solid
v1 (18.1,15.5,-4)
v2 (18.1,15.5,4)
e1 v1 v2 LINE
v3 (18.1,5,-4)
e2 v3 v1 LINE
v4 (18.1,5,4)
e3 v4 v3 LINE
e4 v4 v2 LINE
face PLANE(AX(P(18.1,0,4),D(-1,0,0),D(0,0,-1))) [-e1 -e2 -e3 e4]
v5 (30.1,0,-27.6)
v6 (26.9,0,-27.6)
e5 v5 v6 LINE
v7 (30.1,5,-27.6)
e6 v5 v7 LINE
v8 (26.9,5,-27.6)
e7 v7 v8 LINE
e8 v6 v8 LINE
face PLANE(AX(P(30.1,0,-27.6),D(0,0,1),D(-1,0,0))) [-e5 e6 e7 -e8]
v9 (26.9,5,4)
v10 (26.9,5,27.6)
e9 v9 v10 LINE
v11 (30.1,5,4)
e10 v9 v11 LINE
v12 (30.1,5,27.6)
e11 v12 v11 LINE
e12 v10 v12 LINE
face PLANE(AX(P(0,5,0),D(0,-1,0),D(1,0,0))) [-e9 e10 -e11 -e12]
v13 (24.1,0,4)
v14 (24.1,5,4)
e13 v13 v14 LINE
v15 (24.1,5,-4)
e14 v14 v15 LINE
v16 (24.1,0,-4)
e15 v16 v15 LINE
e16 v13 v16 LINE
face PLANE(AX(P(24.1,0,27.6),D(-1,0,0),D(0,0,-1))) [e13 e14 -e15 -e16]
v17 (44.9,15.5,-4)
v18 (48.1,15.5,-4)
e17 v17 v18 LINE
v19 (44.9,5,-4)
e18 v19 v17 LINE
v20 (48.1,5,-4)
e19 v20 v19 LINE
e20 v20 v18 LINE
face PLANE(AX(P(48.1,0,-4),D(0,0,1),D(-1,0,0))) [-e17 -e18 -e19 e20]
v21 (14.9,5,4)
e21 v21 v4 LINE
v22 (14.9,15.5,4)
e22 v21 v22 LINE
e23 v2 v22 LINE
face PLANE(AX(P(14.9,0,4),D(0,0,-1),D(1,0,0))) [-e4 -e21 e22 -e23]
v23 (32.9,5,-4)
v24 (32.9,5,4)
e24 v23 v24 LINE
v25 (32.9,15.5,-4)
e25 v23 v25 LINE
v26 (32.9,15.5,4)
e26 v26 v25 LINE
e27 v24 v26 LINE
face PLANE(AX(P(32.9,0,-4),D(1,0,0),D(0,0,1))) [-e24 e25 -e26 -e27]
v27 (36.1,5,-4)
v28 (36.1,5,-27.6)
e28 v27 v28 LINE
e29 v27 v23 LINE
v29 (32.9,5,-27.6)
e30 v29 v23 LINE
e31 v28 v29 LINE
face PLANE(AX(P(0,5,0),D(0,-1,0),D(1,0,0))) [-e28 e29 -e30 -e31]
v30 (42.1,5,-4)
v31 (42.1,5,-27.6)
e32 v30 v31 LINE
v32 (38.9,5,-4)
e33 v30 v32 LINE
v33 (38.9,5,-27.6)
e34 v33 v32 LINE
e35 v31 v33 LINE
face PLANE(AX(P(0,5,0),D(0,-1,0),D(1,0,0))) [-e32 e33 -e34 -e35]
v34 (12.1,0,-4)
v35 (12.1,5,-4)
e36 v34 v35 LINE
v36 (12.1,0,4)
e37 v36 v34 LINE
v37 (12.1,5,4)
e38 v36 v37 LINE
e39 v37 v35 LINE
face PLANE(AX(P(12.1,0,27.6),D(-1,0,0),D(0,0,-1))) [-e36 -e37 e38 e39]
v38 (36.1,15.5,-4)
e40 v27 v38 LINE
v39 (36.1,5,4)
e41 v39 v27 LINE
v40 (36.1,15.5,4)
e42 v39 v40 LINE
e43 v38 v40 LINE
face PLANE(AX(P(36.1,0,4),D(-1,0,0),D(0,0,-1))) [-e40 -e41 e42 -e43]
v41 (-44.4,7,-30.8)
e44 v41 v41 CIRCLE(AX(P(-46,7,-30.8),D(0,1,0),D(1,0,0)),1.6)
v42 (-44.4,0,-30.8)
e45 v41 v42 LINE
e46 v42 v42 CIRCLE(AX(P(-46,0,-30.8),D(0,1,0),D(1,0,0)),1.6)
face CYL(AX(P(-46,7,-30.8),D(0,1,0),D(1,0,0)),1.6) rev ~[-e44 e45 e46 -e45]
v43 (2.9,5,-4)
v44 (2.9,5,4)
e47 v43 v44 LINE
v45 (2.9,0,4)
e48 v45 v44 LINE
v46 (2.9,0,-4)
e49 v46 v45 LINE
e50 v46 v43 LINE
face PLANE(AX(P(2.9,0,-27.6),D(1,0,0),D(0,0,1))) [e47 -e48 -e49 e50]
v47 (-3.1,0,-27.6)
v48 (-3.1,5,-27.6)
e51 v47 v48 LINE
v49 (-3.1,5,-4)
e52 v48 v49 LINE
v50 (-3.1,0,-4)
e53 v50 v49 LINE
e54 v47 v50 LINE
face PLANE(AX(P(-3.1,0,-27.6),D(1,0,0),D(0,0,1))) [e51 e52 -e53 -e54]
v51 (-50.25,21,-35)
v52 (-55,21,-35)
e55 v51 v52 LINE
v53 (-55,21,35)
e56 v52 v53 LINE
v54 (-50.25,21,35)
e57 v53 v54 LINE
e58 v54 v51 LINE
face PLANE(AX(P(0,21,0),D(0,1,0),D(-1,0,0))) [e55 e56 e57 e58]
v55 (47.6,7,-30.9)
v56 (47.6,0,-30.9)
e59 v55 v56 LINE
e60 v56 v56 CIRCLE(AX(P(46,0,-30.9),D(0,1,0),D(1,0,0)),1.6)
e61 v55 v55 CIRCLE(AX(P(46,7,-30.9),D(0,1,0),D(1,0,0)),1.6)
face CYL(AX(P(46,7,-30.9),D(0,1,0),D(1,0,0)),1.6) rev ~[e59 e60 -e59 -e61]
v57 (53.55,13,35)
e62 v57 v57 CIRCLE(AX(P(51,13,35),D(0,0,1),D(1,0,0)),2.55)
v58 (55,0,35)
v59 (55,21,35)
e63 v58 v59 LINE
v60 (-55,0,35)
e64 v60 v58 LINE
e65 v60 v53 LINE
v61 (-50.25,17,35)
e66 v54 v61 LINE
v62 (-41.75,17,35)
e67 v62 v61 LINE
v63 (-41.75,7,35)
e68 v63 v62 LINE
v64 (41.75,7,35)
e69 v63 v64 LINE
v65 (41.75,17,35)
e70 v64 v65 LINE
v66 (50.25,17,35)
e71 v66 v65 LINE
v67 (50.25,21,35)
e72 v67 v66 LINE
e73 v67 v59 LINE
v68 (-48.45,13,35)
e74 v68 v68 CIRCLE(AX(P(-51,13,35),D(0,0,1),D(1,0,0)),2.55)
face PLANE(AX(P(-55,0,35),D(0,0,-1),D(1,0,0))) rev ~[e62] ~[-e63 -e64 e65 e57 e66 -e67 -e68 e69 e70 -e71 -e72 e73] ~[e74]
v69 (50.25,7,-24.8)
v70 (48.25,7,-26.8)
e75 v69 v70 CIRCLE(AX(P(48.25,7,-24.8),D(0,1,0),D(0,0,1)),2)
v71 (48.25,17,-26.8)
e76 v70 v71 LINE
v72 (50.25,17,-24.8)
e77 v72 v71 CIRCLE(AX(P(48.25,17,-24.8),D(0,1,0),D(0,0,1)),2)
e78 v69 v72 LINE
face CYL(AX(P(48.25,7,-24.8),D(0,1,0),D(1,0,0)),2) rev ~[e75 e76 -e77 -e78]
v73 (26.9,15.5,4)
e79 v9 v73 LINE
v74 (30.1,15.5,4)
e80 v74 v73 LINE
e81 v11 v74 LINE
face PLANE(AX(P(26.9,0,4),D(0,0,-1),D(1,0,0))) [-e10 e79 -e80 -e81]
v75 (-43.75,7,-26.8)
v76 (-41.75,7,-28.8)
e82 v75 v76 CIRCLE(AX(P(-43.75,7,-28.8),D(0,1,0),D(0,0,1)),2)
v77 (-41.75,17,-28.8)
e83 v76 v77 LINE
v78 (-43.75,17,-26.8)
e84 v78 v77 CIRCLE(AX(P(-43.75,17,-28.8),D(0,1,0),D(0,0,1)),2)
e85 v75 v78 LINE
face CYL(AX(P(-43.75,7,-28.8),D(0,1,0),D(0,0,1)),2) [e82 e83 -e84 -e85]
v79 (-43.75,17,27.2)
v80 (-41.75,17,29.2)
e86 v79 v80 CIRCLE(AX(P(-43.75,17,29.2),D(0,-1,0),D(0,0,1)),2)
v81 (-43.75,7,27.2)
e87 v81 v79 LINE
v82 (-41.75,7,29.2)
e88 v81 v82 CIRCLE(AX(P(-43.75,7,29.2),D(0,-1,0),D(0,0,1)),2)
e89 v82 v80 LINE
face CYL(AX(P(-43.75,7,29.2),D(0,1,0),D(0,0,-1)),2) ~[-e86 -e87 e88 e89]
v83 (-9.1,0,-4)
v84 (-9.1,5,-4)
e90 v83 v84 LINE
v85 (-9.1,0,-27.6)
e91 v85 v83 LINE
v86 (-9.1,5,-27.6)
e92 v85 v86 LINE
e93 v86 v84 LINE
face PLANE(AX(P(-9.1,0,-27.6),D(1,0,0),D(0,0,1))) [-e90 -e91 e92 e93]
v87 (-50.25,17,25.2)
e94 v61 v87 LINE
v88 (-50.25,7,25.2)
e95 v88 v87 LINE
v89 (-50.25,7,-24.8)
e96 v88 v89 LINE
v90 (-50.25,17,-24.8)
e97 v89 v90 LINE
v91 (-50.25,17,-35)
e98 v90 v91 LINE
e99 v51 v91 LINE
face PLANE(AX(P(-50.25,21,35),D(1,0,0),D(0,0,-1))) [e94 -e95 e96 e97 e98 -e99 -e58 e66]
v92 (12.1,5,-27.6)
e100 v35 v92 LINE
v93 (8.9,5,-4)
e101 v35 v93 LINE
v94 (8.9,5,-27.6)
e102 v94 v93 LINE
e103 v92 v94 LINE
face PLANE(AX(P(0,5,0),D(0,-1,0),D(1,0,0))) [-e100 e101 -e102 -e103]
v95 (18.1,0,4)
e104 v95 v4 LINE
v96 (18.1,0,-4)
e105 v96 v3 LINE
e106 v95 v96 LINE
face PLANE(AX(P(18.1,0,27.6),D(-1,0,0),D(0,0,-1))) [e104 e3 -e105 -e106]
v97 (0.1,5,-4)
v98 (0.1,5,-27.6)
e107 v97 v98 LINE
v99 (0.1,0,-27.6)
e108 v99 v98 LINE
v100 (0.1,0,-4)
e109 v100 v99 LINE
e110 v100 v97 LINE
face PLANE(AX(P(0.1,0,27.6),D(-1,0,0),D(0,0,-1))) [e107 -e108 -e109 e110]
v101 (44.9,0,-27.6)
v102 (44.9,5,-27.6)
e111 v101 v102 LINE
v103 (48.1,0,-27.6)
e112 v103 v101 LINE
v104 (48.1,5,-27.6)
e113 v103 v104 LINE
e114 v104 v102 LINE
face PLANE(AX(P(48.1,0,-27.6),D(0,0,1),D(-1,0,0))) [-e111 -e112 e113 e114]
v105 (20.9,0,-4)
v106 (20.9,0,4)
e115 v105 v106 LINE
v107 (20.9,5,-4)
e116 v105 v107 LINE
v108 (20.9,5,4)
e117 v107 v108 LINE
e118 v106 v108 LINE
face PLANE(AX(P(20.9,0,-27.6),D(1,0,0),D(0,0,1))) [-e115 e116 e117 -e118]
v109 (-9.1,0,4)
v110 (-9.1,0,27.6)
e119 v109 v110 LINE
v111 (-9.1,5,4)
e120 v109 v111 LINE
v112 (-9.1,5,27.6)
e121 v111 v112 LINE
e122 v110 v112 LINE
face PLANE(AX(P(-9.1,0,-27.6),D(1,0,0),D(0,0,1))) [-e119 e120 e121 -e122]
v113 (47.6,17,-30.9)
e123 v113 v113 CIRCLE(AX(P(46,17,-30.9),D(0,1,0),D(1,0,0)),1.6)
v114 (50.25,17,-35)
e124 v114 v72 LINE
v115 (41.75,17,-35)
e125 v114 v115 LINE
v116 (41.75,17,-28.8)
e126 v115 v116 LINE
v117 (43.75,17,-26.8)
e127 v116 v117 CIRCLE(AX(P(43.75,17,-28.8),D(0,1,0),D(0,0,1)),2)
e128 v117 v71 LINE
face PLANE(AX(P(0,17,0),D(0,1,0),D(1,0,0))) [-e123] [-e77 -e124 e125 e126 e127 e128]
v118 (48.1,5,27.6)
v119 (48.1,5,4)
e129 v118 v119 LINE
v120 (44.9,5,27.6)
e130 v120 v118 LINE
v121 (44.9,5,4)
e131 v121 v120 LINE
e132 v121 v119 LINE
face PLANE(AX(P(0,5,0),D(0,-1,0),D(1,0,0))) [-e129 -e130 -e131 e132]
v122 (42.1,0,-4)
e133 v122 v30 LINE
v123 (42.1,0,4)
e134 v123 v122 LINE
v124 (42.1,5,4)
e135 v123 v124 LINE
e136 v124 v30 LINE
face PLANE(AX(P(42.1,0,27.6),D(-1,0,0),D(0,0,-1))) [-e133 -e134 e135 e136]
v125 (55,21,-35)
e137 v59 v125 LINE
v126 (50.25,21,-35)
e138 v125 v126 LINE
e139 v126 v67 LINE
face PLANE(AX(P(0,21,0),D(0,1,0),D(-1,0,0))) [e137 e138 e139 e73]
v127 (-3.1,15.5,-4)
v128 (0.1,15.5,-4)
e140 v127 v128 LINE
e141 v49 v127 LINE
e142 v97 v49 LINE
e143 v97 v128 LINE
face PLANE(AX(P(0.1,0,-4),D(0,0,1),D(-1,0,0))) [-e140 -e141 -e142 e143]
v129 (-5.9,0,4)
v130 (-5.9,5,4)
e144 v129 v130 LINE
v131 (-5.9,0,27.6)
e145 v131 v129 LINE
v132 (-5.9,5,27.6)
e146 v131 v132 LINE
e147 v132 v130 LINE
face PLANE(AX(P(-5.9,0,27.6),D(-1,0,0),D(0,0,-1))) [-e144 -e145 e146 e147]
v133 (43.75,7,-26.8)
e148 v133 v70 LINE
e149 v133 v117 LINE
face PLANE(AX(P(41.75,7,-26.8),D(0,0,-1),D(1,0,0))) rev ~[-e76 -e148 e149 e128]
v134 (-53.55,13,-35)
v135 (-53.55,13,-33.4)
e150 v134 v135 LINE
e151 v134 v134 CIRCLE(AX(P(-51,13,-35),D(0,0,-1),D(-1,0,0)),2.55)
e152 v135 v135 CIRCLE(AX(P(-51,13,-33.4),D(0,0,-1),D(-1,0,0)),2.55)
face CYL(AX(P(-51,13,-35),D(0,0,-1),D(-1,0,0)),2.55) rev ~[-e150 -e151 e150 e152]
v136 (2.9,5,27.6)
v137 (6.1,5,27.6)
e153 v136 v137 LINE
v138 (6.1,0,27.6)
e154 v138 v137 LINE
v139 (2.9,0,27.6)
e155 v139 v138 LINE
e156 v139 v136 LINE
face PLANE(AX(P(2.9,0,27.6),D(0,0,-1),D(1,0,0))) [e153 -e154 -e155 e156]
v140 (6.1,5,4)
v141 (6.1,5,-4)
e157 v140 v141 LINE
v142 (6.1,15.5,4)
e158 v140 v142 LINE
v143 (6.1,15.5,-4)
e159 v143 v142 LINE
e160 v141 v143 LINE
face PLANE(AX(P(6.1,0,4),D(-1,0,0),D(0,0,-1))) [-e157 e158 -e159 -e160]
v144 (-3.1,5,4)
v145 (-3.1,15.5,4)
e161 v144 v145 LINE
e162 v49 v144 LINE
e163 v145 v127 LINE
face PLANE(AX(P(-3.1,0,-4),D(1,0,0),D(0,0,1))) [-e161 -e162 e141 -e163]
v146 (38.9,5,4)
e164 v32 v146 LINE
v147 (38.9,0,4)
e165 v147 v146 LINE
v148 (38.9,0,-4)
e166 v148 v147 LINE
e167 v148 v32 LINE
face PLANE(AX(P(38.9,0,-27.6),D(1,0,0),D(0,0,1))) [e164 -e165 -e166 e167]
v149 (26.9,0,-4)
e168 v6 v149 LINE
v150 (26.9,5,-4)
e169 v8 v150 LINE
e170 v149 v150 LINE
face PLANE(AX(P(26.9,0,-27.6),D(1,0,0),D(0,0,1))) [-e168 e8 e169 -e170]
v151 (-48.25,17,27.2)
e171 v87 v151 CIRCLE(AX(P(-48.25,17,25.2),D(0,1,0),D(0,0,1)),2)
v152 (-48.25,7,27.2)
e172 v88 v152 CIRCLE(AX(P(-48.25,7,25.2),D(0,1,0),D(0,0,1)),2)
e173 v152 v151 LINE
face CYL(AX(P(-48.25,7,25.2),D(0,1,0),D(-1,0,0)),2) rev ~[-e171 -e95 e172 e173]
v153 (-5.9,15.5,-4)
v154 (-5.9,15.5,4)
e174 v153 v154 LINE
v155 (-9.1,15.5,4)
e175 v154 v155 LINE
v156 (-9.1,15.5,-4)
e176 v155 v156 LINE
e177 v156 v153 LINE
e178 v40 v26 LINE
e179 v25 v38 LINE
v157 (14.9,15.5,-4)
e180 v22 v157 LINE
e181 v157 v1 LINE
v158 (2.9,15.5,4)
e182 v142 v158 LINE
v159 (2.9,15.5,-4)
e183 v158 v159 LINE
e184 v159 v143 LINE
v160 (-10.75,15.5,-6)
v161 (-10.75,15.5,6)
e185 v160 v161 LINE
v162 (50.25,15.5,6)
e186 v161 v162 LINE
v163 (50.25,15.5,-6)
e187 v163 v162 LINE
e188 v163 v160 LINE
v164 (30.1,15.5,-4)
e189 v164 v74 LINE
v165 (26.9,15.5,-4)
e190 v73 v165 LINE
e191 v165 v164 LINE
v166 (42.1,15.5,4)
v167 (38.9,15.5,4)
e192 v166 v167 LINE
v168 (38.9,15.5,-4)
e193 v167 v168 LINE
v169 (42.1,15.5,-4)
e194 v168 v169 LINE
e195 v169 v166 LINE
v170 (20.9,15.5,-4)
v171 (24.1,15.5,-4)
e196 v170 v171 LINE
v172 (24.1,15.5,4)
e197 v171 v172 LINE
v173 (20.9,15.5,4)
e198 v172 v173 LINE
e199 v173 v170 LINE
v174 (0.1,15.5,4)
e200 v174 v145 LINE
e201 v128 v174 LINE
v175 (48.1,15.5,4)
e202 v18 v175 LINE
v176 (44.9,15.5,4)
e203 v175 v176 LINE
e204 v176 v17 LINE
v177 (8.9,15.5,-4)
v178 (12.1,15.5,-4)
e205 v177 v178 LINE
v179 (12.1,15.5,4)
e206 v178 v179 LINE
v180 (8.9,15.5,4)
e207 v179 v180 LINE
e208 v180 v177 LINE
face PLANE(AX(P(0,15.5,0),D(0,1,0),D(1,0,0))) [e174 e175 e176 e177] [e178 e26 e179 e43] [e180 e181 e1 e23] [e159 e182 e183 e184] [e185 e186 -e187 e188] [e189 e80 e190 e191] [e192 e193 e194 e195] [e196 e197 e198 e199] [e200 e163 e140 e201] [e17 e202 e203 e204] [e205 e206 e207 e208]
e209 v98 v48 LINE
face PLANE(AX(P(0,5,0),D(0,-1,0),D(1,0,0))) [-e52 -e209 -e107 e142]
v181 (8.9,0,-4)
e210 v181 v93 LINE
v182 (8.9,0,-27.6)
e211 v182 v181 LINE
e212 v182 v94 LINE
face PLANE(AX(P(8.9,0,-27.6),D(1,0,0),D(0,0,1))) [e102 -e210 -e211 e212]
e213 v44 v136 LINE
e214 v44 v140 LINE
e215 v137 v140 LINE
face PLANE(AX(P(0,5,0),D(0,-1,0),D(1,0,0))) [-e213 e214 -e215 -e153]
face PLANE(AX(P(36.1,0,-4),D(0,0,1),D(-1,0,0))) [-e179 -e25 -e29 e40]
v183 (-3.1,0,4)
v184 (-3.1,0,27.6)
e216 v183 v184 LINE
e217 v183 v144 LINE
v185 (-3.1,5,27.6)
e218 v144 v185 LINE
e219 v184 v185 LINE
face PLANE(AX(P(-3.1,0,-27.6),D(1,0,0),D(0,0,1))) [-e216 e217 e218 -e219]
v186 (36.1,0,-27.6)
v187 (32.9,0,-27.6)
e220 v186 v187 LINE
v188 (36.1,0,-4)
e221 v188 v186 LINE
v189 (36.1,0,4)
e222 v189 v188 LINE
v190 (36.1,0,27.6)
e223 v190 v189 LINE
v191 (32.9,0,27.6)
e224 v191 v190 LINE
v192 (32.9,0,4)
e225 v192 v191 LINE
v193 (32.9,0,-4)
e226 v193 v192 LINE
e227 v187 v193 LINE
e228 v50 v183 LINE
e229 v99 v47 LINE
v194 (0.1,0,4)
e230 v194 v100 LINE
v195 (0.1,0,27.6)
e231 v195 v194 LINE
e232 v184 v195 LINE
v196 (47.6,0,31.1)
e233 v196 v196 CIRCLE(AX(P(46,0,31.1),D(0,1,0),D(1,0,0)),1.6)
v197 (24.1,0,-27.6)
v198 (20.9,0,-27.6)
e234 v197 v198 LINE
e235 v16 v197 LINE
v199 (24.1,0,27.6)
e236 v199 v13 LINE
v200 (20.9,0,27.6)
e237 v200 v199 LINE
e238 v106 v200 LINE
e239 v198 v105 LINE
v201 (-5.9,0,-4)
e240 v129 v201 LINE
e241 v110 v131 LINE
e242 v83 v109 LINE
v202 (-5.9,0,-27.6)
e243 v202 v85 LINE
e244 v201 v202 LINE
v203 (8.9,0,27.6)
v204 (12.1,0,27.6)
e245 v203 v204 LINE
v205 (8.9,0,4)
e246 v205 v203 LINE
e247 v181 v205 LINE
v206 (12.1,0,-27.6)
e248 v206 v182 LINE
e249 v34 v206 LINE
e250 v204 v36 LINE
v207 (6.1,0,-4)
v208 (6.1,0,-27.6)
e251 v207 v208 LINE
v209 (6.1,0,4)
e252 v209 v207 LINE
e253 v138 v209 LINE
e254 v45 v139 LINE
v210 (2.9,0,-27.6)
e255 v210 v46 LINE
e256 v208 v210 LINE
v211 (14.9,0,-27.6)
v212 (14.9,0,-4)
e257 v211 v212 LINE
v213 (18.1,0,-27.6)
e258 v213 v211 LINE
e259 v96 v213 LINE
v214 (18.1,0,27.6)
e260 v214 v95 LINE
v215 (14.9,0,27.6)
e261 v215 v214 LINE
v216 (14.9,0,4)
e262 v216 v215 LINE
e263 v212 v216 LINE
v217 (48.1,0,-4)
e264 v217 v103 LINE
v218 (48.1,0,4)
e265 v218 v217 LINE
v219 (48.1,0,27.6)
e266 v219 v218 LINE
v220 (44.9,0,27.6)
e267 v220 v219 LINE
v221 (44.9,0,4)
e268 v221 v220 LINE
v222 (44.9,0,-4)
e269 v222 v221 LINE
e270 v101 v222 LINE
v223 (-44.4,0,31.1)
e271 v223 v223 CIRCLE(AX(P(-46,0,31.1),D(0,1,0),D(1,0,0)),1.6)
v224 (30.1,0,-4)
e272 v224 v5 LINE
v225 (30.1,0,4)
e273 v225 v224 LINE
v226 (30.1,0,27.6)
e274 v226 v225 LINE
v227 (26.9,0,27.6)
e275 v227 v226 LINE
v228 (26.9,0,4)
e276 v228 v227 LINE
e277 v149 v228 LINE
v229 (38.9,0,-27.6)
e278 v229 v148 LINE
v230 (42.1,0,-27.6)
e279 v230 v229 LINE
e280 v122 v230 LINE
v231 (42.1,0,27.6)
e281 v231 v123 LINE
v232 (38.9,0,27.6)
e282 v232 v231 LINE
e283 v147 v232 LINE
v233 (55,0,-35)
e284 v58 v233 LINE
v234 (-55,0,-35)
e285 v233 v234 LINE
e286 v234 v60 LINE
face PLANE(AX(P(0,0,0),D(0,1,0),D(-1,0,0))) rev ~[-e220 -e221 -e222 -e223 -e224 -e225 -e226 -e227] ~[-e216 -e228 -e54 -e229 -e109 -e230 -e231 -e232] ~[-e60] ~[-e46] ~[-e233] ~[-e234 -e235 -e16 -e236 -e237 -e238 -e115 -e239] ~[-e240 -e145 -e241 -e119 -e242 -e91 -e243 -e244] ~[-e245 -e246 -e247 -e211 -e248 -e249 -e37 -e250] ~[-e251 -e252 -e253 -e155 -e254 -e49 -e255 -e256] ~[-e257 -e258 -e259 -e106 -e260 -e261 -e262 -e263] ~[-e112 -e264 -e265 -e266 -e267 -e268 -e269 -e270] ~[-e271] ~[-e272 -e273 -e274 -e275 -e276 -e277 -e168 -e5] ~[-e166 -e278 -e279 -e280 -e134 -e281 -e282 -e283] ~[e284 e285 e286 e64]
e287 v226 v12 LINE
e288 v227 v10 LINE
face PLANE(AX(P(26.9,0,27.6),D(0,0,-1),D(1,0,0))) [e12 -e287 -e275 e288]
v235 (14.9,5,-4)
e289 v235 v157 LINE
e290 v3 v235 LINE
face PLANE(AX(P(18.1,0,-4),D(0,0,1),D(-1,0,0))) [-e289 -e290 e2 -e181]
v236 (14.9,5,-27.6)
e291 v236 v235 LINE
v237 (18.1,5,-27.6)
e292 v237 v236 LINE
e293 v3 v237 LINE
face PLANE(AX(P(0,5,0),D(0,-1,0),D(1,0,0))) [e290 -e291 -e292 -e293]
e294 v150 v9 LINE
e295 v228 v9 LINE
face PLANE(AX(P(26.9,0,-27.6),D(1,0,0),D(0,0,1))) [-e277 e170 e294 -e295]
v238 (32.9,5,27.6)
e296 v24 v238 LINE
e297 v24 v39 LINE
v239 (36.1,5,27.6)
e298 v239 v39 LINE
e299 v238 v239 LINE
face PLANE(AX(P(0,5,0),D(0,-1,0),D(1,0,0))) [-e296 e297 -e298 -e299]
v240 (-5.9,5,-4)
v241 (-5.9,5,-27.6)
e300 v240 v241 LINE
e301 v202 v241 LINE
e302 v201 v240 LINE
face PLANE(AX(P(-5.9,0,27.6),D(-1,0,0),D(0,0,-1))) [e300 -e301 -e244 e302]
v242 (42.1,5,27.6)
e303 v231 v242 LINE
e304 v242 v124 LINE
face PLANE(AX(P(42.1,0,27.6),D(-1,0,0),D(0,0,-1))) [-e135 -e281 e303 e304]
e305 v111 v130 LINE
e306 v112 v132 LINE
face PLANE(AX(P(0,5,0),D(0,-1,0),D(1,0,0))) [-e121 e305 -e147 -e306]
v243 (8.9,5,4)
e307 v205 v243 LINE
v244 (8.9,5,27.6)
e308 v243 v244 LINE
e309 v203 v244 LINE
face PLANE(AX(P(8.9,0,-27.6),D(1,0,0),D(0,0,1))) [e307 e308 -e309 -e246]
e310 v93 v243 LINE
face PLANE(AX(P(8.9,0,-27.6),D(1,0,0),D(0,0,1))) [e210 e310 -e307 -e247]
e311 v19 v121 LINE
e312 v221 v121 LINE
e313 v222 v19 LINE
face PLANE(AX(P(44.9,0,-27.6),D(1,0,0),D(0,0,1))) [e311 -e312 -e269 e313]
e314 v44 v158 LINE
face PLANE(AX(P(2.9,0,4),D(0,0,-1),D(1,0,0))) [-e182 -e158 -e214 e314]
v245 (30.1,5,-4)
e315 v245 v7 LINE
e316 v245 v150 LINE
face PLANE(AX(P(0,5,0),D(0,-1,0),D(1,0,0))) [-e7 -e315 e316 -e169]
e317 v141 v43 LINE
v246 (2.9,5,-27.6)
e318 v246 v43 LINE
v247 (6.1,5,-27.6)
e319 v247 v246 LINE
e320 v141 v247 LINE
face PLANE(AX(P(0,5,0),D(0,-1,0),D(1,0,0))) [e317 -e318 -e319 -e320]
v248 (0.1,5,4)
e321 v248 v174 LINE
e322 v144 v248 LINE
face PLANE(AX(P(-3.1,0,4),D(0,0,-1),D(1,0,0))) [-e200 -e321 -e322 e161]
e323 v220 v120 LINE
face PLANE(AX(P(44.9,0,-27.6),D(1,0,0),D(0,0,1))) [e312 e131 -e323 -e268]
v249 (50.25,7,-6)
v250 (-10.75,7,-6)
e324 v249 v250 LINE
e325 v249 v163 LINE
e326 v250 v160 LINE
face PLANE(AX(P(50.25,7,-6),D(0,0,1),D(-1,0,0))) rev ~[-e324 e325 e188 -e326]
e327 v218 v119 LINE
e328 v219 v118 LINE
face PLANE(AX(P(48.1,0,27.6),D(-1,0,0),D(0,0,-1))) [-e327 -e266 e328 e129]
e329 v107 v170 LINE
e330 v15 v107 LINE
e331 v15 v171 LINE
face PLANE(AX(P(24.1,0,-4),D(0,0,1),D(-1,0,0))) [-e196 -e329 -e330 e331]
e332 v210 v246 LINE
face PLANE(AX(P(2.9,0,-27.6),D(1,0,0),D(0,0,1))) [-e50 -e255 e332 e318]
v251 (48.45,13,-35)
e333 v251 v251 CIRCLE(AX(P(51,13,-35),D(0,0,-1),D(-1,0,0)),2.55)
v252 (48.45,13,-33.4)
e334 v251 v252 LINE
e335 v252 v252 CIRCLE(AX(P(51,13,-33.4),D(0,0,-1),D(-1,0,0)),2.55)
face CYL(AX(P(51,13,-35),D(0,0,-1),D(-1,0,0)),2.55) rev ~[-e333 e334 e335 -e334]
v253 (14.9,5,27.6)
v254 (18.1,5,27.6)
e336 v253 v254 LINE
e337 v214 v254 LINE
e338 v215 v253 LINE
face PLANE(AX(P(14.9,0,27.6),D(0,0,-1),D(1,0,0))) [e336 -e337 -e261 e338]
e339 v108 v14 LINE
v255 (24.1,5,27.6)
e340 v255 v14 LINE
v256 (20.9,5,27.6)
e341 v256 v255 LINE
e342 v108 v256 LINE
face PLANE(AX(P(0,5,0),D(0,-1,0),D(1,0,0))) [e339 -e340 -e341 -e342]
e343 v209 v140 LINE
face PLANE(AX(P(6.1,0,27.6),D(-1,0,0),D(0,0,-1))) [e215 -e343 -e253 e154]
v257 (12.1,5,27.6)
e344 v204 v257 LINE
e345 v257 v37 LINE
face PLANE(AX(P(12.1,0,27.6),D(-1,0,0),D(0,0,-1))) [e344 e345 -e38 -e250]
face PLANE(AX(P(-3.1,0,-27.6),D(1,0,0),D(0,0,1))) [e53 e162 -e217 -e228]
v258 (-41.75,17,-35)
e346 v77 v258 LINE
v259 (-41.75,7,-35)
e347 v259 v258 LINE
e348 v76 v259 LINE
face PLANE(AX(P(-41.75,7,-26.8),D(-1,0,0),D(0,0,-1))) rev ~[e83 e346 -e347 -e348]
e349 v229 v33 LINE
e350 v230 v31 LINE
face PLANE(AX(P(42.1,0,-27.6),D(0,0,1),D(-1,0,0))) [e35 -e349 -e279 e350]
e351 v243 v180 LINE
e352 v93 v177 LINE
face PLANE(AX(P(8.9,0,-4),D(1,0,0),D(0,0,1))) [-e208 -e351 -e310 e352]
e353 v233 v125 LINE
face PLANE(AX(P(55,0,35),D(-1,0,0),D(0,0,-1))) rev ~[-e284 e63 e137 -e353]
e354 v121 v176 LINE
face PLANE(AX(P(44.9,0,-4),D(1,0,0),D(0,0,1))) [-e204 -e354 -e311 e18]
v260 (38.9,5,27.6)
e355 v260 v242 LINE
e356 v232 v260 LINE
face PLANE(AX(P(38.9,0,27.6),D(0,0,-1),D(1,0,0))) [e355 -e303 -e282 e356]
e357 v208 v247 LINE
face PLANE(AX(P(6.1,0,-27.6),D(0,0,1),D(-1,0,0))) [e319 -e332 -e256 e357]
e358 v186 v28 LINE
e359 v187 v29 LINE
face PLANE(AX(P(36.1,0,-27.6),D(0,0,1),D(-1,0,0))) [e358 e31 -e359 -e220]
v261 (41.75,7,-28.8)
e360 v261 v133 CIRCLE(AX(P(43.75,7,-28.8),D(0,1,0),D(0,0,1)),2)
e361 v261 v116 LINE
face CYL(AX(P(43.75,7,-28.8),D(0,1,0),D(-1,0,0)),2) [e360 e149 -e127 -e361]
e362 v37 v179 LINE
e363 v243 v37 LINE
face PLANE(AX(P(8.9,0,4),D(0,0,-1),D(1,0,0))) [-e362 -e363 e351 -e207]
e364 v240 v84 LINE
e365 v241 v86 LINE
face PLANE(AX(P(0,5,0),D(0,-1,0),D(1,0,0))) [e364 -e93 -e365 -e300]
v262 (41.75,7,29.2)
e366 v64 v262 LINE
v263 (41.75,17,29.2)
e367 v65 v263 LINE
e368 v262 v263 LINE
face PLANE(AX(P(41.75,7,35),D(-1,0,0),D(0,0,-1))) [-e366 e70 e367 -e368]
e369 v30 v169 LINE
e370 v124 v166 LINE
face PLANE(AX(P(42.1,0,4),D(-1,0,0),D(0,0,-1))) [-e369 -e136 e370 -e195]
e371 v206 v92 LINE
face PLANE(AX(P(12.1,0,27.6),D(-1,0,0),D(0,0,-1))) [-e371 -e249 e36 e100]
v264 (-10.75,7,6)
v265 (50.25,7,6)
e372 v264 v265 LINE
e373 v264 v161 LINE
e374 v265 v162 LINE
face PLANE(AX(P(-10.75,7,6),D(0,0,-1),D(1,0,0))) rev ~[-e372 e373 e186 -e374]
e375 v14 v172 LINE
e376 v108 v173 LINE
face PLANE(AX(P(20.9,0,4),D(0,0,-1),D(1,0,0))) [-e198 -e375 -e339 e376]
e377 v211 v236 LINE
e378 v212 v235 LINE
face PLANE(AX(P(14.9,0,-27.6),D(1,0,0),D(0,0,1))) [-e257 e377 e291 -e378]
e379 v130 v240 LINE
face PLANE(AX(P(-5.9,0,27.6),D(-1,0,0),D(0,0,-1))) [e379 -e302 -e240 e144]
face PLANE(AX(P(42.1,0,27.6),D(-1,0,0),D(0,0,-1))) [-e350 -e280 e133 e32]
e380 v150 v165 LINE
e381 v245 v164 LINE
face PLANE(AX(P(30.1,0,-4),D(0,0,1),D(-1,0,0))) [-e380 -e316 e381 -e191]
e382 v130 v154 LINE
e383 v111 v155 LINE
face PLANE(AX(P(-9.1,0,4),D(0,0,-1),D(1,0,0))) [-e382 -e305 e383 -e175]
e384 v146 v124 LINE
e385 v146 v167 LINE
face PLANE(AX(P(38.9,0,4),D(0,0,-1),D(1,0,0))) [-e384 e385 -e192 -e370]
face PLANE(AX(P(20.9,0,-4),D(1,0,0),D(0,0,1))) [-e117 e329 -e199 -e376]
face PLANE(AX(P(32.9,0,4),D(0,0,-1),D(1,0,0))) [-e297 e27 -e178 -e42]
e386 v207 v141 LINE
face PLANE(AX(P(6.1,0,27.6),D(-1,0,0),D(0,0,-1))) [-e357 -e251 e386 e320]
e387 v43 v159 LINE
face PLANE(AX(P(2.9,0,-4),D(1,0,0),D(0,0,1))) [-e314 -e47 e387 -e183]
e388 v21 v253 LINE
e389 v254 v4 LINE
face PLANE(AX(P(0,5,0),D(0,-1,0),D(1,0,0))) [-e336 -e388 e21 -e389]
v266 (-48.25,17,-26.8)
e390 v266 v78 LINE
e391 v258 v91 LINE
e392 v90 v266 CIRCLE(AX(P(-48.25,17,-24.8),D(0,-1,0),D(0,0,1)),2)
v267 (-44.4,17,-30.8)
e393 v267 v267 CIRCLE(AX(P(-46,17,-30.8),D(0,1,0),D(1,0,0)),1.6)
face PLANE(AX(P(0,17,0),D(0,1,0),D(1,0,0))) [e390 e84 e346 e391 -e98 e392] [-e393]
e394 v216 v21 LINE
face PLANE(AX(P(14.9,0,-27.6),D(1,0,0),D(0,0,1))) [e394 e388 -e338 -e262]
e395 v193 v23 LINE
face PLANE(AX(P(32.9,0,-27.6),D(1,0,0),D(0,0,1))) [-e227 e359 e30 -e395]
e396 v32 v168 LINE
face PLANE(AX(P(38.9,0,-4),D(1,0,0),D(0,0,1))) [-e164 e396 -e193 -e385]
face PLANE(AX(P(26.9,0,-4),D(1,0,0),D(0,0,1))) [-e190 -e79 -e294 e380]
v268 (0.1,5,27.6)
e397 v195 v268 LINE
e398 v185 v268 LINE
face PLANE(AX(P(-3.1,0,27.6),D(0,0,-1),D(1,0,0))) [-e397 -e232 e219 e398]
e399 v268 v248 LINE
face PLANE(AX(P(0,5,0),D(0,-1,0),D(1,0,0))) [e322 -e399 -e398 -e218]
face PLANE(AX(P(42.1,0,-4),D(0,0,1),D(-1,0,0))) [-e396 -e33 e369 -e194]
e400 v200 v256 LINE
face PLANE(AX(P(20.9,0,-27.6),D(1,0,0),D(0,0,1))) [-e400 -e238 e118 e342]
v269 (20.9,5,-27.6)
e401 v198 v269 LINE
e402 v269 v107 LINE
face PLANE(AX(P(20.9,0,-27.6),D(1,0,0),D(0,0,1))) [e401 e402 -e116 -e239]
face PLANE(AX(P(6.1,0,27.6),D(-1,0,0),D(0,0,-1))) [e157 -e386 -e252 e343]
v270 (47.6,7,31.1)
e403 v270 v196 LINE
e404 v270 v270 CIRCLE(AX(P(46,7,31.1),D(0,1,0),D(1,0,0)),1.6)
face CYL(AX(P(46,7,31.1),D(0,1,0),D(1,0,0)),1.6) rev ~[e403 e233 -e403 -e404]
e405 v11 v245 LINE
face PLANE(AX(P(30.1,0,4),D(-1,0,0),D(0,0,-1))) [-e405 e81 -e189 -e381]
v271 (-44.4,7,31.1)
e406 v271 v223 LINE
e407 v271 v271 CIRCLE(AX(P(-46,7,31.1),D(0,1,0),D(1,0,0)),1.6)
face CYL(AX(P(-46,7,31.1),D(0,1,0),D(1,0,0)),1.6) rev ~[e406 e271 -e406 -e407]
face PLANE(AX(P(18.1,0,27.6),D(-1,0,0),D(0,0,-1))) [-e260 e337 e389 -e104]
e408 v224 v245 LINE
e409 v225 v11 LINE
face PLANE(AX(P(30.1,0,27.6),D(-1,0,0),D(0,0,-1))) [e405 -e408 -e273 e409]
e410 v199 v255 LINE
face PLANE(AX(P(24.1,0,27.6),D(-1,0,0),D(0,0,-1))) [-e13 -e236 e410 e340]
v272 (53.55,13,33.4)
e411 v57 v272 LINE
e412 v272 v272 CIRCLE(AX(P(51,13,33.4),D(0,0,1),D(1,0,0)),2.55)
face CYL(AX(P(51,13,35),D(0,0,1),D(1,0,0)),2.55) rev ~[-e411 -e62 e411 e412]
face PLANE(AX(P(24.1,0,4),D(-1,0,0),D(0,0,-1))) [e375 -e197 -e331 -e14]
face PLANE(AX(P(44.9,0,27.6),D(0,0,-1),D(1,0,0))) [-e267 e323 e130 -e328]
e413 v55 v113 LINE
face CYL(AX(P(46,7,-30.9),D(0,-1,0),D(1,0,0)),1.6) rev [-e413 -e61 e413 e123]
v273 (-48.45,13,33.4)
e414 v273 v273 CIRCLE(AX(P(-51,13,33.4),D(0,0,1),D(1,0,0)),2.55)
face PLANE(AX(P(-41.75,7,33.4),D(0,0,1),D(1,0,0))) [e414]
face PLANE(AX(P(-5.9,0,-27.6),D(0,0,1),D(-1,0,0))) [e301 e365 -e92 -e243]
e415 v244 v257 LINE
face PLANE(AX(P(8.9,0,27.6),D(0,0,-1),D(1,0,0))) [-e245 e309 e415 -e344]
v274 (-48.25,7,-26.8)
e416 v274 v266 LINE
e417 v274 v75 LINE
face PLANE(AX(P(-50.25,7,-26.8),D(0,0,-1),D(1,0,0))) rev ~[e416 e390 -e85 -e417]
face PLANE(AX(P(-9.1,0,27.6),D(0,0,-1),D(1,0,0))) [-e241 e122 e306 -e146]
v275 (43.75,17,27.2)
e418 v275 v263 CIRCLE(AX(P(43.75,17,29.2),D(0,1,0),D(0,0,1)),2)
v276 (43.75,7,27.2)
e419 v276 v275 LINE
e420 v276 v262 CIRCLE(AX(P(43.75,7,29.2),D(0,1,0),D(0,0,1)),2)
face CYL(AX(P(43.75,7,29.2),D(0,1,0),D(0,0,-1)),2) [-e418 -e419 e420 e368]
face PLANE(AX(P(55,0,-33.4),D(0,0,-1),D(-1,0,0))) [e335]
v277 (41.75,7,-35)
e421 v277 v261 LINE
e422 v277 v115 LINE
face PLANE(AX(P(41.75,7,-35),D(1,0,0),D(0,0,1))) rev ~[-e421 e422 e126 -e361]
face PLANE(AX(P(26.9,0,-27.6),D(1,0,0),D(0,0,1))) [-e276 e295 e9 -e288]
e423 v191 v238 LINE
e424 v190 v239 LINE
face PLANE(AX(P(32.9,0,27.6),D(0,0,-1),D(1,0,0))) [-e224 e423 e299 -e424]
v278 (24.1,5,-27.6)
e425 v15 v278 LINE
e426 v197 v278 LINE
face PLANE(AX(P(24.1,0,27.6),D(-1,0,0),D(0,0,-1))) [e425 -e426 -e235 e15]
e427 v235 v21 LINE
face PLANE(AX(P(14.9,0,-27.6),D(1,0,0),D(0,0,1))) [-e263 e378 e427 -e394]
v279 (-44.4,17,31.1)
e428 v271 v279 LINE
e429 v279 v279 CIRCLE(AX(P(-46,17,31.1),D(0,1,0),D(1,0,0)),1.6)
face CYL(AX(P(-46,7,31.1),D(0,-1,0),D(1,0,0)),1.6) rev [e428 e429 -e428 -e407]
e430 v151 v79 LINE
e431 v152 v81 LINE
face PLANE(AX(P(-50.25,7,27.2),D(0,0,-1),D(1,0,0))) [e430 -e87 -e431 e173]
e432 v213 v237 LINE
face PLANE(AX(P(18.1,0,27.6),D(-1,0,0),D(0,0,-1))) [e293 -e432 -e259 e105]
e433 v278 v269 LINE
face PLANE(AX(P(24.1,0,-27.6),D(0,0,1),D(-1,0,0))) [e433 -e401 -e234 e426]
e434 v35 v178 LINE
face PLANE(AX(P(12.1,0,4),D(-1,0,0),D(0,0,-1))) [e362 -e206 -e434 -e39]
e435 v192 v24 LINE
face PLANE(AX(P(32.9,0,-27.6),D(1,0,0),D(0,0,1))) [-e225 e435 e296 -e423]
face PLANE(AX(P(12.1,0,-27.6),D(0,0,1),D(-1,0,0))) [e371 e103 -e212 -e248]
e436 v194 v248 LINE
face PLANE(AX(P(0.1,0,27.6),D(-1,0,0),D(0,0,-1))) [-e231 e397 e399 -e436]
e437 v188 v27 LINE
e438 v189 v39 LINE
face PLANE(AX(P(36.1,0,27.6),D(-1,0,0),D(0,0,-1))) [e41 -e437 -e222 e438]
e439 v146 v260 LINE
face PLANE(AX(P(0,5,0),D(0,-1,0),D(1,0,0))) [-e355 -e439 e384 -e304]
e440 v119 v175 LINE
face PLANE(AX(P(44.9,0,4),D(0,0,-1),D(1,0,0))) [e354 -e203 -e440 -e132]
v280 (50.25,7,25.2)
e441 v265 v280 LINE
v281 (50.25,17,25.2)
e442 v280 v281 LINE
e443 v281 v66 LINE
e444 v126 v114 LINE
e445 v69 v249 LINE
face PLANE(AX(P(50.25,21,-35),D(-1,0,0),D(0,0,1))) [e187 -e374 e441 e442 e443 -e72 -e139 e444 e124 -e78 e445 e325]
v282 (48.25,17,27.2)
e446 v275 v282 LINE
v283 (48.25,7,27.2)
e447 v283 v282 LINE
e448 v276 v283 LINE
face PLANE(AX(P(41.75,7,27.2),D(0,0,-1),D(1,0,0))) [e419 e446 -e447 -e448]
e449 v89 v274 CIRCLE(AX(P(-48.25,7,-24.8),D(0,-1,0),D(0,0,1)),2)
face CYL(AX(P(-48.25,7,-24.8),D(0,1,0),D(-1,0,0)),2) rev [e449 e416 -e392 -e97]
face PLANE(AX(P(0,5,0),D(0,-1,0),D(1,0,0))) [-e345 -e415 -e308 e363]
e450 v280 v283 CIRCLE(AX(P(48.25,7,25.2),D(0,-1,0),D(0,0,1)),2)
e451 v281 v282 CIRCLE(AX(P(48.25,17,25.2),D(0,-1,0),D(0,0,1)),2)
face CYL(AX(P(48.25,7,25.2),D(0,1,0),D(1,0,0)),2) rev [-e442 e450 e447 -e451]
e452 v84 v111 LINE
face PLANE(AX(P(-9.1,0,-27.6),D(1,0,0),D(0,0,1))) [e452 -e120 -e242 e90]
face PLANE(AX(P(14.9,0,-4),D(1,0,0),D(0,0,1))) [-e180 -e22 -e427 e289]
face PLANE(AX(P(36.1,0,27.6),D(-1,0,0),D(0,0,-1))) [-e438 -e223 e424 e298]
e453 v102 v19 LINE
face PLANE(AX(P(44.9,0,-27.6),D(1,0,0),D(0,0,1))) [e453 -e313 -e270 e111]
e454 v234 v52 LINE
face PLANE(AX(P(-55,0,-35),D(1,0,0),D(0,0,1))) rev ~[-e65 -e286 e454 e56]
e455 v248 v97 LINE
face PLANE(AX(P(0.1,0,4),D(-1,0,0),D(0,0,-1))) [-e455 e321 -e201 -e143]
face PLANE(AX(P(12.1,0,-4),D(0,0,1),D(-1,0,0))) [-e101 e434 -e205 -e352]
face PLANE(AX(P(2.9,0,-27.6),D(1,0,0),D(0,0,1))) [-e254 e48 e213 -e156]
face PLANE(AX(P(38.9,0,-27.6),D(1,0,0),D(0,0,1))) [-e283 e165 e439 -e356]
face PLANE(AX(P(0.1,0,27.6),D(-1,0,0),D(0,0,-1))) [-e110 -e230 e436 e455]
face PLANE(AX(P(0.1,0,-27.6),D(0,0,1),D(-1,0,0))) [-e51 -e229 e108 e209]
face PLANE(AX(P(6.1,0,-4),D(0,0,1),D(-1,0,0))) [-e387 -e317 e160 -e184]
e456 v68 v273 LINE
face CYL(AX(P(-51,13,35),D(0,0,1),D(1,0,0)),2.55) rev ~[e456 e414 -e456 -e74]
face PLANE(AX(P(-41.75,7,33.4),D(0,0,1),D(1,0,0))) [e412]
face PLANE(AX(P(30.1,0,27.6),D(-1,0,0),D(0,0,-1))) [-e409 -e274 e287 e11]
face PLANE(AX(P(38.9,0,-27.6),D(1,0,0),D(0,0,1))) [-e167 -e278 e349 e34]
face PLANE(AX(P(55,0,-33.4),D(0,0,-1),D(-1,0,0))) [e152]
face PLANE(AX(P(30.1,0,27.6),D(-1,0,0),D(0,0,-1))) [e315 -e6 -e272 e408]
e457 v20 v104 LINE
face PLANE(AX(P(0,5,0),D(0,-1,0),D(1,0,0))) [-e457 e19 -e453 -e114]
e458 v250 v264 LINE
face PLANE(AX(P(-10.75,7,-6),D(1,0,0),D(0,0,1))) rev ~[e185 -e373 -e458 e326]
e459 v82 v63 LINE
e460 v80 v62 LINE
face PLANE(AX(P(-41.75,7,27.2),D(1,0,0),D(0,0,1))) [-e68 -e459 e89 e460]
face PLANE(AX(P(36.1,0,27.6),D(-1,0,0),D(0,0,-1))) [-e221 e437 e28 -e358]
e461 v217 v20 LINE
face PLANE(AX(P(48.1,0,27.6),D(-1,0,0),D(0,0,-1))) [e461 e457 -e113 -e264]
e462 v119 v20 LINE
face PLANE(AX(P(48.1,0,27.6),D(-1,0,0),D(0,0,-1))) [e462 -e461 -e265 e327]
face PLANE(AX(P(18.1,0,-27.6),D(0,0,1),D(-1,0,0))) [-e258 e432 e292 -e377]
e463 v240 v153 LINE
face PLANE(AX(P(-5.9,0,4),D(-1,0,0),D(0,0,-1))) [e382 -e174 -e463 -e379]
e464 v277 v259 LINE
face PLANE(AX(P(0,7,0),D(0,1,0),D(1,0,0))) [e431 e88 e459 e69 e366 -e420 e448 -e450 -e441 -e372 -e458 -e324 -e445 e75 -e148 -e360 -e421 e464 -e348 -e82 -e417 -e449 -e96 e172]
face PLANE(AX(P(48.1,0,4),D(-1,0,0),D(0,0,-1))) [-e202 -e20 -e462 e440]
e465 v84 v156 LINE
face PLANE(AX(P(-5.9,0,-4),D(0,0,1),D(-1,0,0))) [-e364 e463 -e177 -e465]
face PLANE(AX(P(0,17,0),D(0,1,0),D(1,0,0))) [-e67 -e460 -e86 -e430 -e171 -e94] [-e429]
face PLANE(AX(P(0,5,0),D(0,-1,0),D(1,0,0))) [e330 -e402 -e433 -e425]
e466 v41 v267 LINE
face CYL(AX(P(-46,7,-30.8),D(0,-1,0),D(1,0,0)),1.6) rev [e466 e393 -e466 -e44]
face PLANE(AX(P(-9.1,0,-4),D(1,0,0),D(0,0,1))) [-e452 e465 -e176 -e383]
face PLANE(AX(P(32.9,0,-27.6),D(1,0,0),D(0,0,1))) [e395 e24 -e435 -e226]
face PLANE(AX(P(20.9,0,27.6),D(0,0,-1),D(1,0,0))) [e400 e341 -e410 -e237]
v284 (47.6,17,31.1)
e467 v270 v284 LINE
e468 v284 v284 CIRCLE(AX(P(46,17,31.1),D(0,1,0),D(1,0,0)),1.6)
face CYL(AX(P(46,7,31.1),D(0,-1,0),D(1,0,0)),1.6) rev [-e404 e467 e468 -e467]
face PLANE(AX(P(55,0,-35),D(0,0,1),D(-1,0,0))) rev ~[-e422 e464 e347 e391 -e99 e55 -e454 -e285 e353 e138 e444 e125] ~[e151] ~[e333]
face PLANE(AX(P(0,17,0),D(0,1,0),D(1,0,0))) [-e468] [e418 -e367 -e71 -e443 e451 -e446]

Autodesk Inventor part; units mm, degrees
ref_plane "YZ Plane" through (0, 0, 0) normal (1, 0, 0) x (0, 1, 0)
ref_plane "XZ Plane" through (0, 0, 0) normal (0, 1, 0) x (-1, 0, 0)
ref_plane "XY Plane" through (0, 0, 0) normal (0, 0, 1) x (1, 0, 0)
sketch "Sketch1" plane through (0, 0, 0) normal (0, 1, 0) x (-1, 0, 0)
  line L0 (55, 35) -> (-55, 35)
  line L1 (-55, 35) -> (-55, -35)
  line L2 (-55, -35) -> (55, -35)
  line L3 (55, -35) -> (55, 35)
  point P0 (0, 0)
  point P1 (-55, 0)
  point P2 (55, 0)
  dimension "d0" = 70
  dimension "d66" = 35
  dimension "d67" = 55
  dimension "d68" = 55
extrude "Extrusion1" add sketch "Sketch1" along normal blind 21
sketch "Sketch2" plane through (0, 21, 0) normal (0, 1, 0) x (1, 0, 0)
  line L0 (-55, -35) -> (55, -35) projected
  line L1 (55, 35) -> (-55, 35) projected
  line L2 (50.25, -35) -> (-50.25, -35)
  line L3 (-50.25, -35) -> (-50.25, 35)
  line L4 (-50.25, 35) -> (50.25, 35)
  line L5 (50.25, 35) -> (50.25, -35)
  line L6 (-55, 35) -> (-55, -35) projected
  line L7 (55, -35) -> (55, 35) projected
  point P0 (0, 0)
  point P1 (-50.25, -35)
  dimension "d4" = 100.5
  dimension "d6" = 70
  dimension "d122" = 50.25
extrude "Extrusion2" cut sketch "Sketch2" against normal blind 14 contours L3 L1 L5 L0
sketch "Sketch11" plane through (0, 7, 0) normal (0, 1, 0) x (1, 0, 0)
  line L0 (50.25, 35) -> (41.75, 35)
  line L1 (41.75, 35) -> (41.75, 26.8)
  line L2 (41.75, 26.8) -> (50.25, 26.8)
  line L3 (50.25, 26.8) -> (50.25, 35)
  circle A0 centre (46, 30.9) radius 1.6
  line L4 (50.25, 35) -> (50.25, -35) projected
  line L5 (50.25, -35) -> (41.75, -35)
  line L6 (41.75, -35) -> (41.75, -27.2)
  line L7 (41.75, -27.2) -> (50.25, -27.2)
  line L8 (50.25, -27.2) -> (50.25, -35)
  circle A1 centre (46, -31.1) radius 1.6
  line L9 (-41.75, 35) -> (-50.25, 35)
  line L10 (-50.25, 35) -> (-50.25, 26.8)
  line L11 (-50.25, 26.8) -> (-41.75, 26.8)
  line L12 (-41.75, 26.8) -> (-41.75, 35)
  circle A2 centre (-46, 30.8) radius 1.6
  line L13 (-50.25, 35) -> (50.25, 35) projected
  line L14 (-50.25, -35) -> (-50.25, 35) projected
  line L15 (-41.75, -35) -> (-50.25, -35)
  line L16 (-50.25, -35) -> (-50.25, -27.2)
  line L17 (-50.25, -27.2) -> (-41.75, -27.2)
  line L18 (-41.75, -27.2) -> (-41.75, -35)
  circle A3 centre (-46, -31.1) radius 1.6
  line L19 (50.25, -35) -> (-50.25, -35) projected
  point P0 (0, 0)
  point P1 (50.25, 30.9)
  point P2 (50.25, -8)
  point P3 (46, -35)
  point P4 (-41.75, 30.9)
  point P5 (-46, -35)
  point P6 (-50.25, -31.1)
  point P7 (50.25, -6)
  dimension "d74" = 8.5
  dimension "d75" = 8.2
  dimension "d76" = 3.2
  dimension "d77" = 4.1
  dimension "d78" = 4.25
  dimension "d79" = 8.5
  dimension "d80" = 7.8
  dimension "d81" = 4.25
  dimension "d82" = 3.9
  dimension "d83" = 3.2
  dimension "d84" = 8.5
  dimension "d85" = 8.2
  dimension "d86" = 3.2
  dimension "d87" = 4.2
  dimension "d89" = 7.8
  dimension "d90" = 3.9
  dimension "d91" = 3.2
  dimension "d92" = 4.25
  dimension "d93" = 8.5
  dimension "d115" = 4.25
extrude "Extrusion10" add sketch "Sketch11" along normal blind 10 contours L3 L2 L1 L0 | L12 L11 L10 L9 | L4 L5 L6 L7 | L17 L18 L15 L14
fillet "Fillet5" radius 2 8 edges at (41.75, 12, 27.2) (50.25, 12, 27.2) (41.75, 12, -26.8) (50.25, 12, -26.8) (-41.75, 12, -26.8) (-50.25, 12, -26.8) (-50.25, 12, 27.2) (-41.75, 12, 27.2)
sketch "Sketch12" plane through (-41.75, 7, 35) normal (0, 0, 1) x (1, 0, 0)
  circle A0 centre (-9.25, 6) radius 2.55
  line L0 (-8.5, 10) -> (0, 10) projected
  line L1 (-13.25, -7) -> (-13.25, 14) projected
  circle A1 centre (92.75, 6) radius 2.55
  line L2 (96.75, -7) -> (96.75, 14) projected
  line L3 (83.5, 10) -> (92, 10) projected
  point P0 (41.75, -7)
  dimension "d98" = 5.1
  dimension "d100" = 4
  dimension "d103" = 4
  dimension "d104" = 5.1
  dimension "d105" = 4
  dimension "d106" = 4
extrude "Extrusion11" cut sketch "Sketch12" against normal blind 1.6
sketch "Sketch13" plane through (55, 0, -35) normal (0, 0, -1) x (-1, 0, 0)
  circle A0 centre (106, 13) radius 2.55
  circle A1 centre (4, 13) radius 2.55
  line L0 (96.75, 17) -> (105.25, 17) projected
  line L1 (110, 0) -> (110, 21) projected
  line L2 (4.75, 17) -> (13.25, 17) projected
  line L3 (0, 0) -> (0, 21) projected
  point P0 (55, 0)
  dimension "d107" = 5.1
  dimension "d108" = 4
  dimension "d109" = 4
  dimension "d110" = 5.1
  dimension "d111" = 4
  dimension "d112" = 4
extrude "Extrusion12" cut sketch "Sketch13" against normal blind 1.6
sketch "Sketch14" plane through (-46, 7, 31.1) normal (0, 1, 0) x (1, 0, 0)
  point P0 (46, 31.1)
sketch "Sketch15" plane through (0, 7, 0) normal (0, 1, 0) x (1, 0, 0)
  circle A0 centre (46, -31.1) radius 1.6 projected
  circle A1 centre (46, -31.1) radius 1.6
  circle A2 centre (-46, -31.1) radius 1.6 projected
  circle A3 centre (-46, -31.1) radius 1.6
  circle A4 centre (-46, 30.8) radius 1.6 projected
  circle A5 centre (-46, 30.8) radius 1.6
  circle A6 centre (46, 30.9) radius 1.6 projected
  circle A7 centre (46, 30.9) radius 1.6
  point P0 (0, 0)
extrude "Extrusion13" cut sketch "Sketch15" against normal through all
sketch "Sketch16" plane through (0, 0, 0) normal (0, -1, 0) x (1, 0, 0)
  line L0 (48.1, -27.6) -> (44.9, -27.6)
  line L1 (44.9, -27.6) -> (44.9, 27.6)
  line L2 (44.9, 27.6) -> (48.1, 27.6)
  line L3 (48.1, 27.6) -> (48.1, -27.6)
  line L4 (48.1, -27.6) -> (44.9, 27.6) construction
  line L5 (44.9, -27.6) -> (48.1, 27.6) construction
  line L6 (50.25, -24.8) -> (50.25, 25.2) projected
  line L7 (42.1, -27.6) -> (38.9, -27.6)
  line L8 (38.9, -27.6) -> (38.9, 27.6)
  line L9 (38.9, 27.6) -> (42.1, 27.6)
  line L10 (42.1, 27.6) -> (42.1, -27.6)
  line L11 (42.1, -27.6) -> (38.9, 27.6) construction
  line L12 (38.9, -27.6) -> (42.1, 27.6) construction
  line L13 (36.1, -27.6) -> (32.9, -27.6)
  line L14 (32.9, -27.6) -> (32.9, 27.6)
  line L15 (32.9, 27.6) -> (36.1, 27.6)
  line L16 (36.1, 27.6) -> (36.1, -27.6)
  line L17 (36.1, -27.6) -> (32.9, 27.6) construction
  line L18 (32.9, -27.6) -> (36.1, 27.6) construction
  line L19 (30.1, -27.6) -> (26.9, -27.6)
  line L20 (26.9, -27.6) -> (26.9, 27.6)
  line L21 (26.9, 27.6) -> (30.1, 27.6)
  line L22 (30.1, 27.6) -> (30.1, -27.6)
  line L23 (30.1, -27.6) -> (26.9, 27.6) construction
  line L24 (26.9, -27.6) -> (30.1, 27.6) construction
  line L25 (24.1, -27.6) -> (20.9, -27.6)
  line L26 (20.9, -27.6) -> (20.9, 27.6)
  line L27 (20.9, 27.6) -> (24.1, 27.6)
  line L28 (24.1, 27.6) -> (24.1, -27.6)
  line L29 (24.1, -27.6) -> (20.9, 27.6) construction
  line L30 (20.9, -27.6) -> (24.1, 27.6) construction
  line L31 (18.1, -27.6) -> (14.9, -27.6)
  line L32 (14.9, -27.6) -> (14.9, 27.6)
  line L33 (14.9, 27.6) -> (18.1, 27.6)
  line L34 (18.1, 27.6) -> (18.1, -27.6)
  line L35 (18.1, -27.6) -> (14.9, 27.6) construction
  line L36 (14.9, -27.6) -> (18.1, 27.6) construction
  line L37 (12.1, -27.6) -> (8.9, -27.6)
  line L38 (8.9, 27.6) -> (12.1, 27.6)
  line L39 (8.9, -27.6) -> (8.9, 27.6)
  line L40 (12.1, -27.6) -> (8.9, 27.6) construction
  line L41 (8.9, -27.6) -> (12.1, 27.6) construction
  line L42 (12.1, 27.6) -> (12.1, -27.6)
  line L43 (6.1, -27.6) -> (2.9, -27.6)
  line L44 (2.9, 27.6) -> (6.1, 27.6)
  line L45 (2.9, -27.6) -> (2.9, 27.6)
  line L46 (6.1, -27.6) -> (2.9, 27.6) construction
  line L47 (2.9, -27.6) -> (6.1, 27.6) construction
  line L48 (6.1, 27.6) -> (6.1, -27.6)
  line L49 (0.1, -27.6) -> (-3.1, -27.6)
  line L50 (-3.1, 27.6) -> (0.1, 27.6)
  line L51 (-3.1, -27.6) -> (-3.1, 27.6)
  line L52 (0.1, -27.6) -> (-3.1, 27.6) construction
  line L53 (-3.1, -27.6) -> (0.1, 27.6) construction
  line L54 (0.1, 27.6) -> (0.1, -27.6)
  line L55 (-5.9, -27.6) -> (-9.1, -27.6)
  line L56 (-9.1, 27.6) -> (-5.9, 27.6)
  line L57 (-9.1, -27.6) -> (-9.1, 27.6)
  line L58 (-5.9, -27.6) -> (-9.1, 27.6) construction
  line L59 (-9.1, -27.6) -> (-5.9, 27.6) construction
  line L60 (-5.9, 27.6) -> (-5.9, -27.6)
  line L61 (55, -35) -> (-55, -35) projected
  point P0 (46.5, 27.6)
  point P1 (40.5, 27.6)
  point P2 (34.5, 27.6)
  point P3 (28.5, 27.6)
  point P4 (22.5, 27.6)
  point P5 (16.5, 27.6)
  point P6 (10.5, 27.6)
  point P7 (4.5, 27.6)
  point P8 (-1.5, 27.6)
  point P9 (-7.5, 27.6)
  point P10 (46.5, -27.6)
  point P11 (40.5, 0)
  point P12 (46.5, 0)
  point P13 (34.5, 0)
  point P14 (40.5, 0)
  point P15 (28.5, 0)
  point P16 (34.5, 0)
  point P17 (22.5, 0)
  point P18 (28.5, 0)
  point P19 (16.5, 0)
  point P20 (22.5, 0)
  point P21 (10.5, 0)
  point P22 (16.5, 0)
  point P23 (4.5, 0)
  point P24 (10.5, 0)
  point P25 (-1.5, 0)
  point P26 (4.5, 0)
  point P27 (-7.5, 0)
  point P28 (-1.5, 0)
  point P29 (46.5, 0)
  dimension "d136" = 3.2
  dimension "d145" = 3.2
  dimension "d162" = 3.2
  dimension "d164" = 3.2
  dimension "d166" = 3.2
  dimension "d176" = 3.2
  dimension "d179" = 3.2
  dimension "d182" = 3.2
  dimension "d185" = 3.2
  dimension "d210" = 6
  dimension "d211" = 6
  dimension "d212" = 6
  dimension "d213" = 6
  dimension "d214" = 6
  dimension "d215" = 6
  dimension "d216" = 6
  dimension "d217" = 6
  dimension "d218" = 6
  dimension "d219" = 27.6
  dimension "d221" = 3.75
  dimension "d222" = 35
extrude "Extrusion14" cut sketch "Sketch16" against normal blind 5
sketch "Sketch19" plane through (0, 7, 0) normal (0, 1, 0) x (1, 0, 0)
  line L0 (50.25, 35) -> (50.25, -35) projected
  line L1 (50.25, 6) -> (-10.75, 6)
  line L2 (-10.75, 6) -> (-10.75, -6)
  line L3 (-10.75, -6) -> (50.25, -6)
  line L4 (50.25, -6) -> (50.25, 6)
  line L5 (41.75, -35) -> (50.25, -35) projected
  point P0 (0, 0)
  dimension "d204" = 61
  dimension "d205" = 12
  dimension "d206" = 29
extrude "Extrusion16" add sketch "Sketch19" along normal blind 8.5
sketch "Sketch17" plane through (0, 0, 0) normal (0, -1, 0) x (1, 0, 0)
  line L0 (48.1, 27.6) -> (48.1, -27.6) projected
  line L1 (44.9, 4) -> (48.1, 4)
  line L2 (48.1, 4) -> (48.1, -4)
  line L3 (48.1, -4) -> (44.9, -4)
  line L4 (44.9, -4) -> (44.9, 4)
  line L5 (44.9, 4) -> (48.1, -4) construction
  line L6 (48.1, 4) -> (44.9, -4) construction
  line L7 (44.9, -27.6) -> (44.9, 27.6) projected
  line L8 (42.1, 27.6) -> (42.1, -27.6) projected
  line L9 (38.9, 4) -> (42.1, 4)
  line L10 (42.1, 4) -> (42.1, -4)
  line L11 (42.1, -4) -> (38.9, -4)
  line L12 (38.9, -4) -> (38.9, 4)
  line L13 (38.9, 4) -> (42.1, -4) construction
  line L14 (42.1, 4) -> (38.9, -4) construction
  line L15 (36.1, 27.6) -> (36.1, -27.6) projected
  line L16 (32.9, 4) -> (36.1, 4)
  line L17 (36.1, 4) -> (36.1, -4)
  line L18 (36.1, -4) -> (32.9, -4)
  line L19 (32.9, -4) -> (32.9, 4)
  line L20 (32.9, 4) -> (36.1, -4) construction
  line L21 (36.1, 4) -> (32.9, -4) construction
  line L22 (30.1, 27.6) -> (30.1, -27.6) projected
  line L23 (26.9, 4) -> (30.1, 4)
  line L24 (30.1, 4) -> (30.1, -4)
  line L25 (30.1, -4) -> (26.9, -4)
  line L26 (26.9, -4) -> (26.9, 4)
  line L27 (26.9, 4) -> (30.1, -4) construction
  line L28 (30.1, 4) -> (26.9, -4) construction
  line L29 (24.1, 27.6) -> (24.1, -27.6) projected
  line L30 (20.9, 4) -> (24.1, 4)
  line L31 (24.1, 4) -> (24.1, -4)
  line L32 (24.1, -4) -> (20.9, -4)
  line L33 (20.9, -4) -> (20.9, 4)
  line L34 (20.9, 4) -> (24.1, -4) construction
  line L35 (24.1, 4) -> (20.9, -4) construction
  line L36 (18.1, 27.6) -> (18.1, -27.6) projected
  line L37 (14.9, 4) -> (18.1, 4)
  line L38 (18.1, 4) -> (18.1, -4)
  line L39 (18.1, -4) -> (14.9, -4)
  line L40 (14.9, -4) -> (14.9, 4)
  line L41 (14.9, 4) -> (18.1, -4) construction
  line L42 (18.1, 4) -> (14.9, -4) construction
  line L43 (12.1, 27.6) -> (12.1, -27.6) projected
  line L44 (8.9, 4) -> (12.1, 4)
  line L45 (12.1, 4) -> (12.1, -4)
  line L46 (12.1, -4) -> (8.9, -4)
  line L47 (8.9, -4) -> (8.9, 4)
  line L48 (8.9, 4) -> (12.1, -4) construction
  line L49 (12.1, 4) -> (8.9, -4) construction
  line L50 (2.9, 4) -> (6.1, 4)
  line L51 (6.1, 4) -> (6.1, -4)
  line L52 (6.1, -4) -> (2.9, -4)
  line L53 (2.9, -4) -> (2.9, 4)
  line L54 (2.9, 4) -> (6.1, -4) construction
  line L55 (6.1, 4) -> (2.9, -4) construction
  line L56 (-3.1, 4) -> (0.1, 4)
  line L57 (0.1, 4) -> (0.1, -4)
  line L58 (0.1, -4) -> (-3.1, -4)
  line L59 (-3.1, -4) -> (-3.1, 4)
  line L60 (-3.1, 4) -> (0.1, -4) construction
  line L61 (0.1, 4) -> (-3.1, -4) construction
  line L62 (-5.9, 27.6) -> (-5.9, -27.6) projected
  line L63 (-9.1, 4) -> (-5.9, 4)
  line L64 (-5.9, 4) -> (-5.9, -4)
  line L65 (-5.9, -4) -> (-9.1, -4)
  line L66 (-9.1, -4) -> (-9.1, 4)
  line L67 (-9.1, 4) -> (-5.9, -4) construction
  line L68 (-5.9, 4) -> (-9.1, -4) construction
  line L69 (38.9, -27.6) -> (38.9, 27.6) projected
  line L70 (32.9, -27.6) -> (32.9, 27.6) projected
  line L71 (26.9, -27.6) -> (26.9, 27.6) projected
  line L72 (20.9, -27.6) -> (20.9, 27.6) projected
  line L73 (14.9, -27.6) -> (14.9, 27.6) projected
  line L74 (8.9, -27.6) -> (8.9, 27.6) projected
  line L75 (2.9, -27.6) -> (2.9, 27.6) projected
  line L76 (-3.1, -27.6) -> (-3.1, 27.6) projected
  line L77 (0.1, 27.6) -> (0.1, -27.6) projected
  line L78 (6.1, 27.6) -> (6.1, -27.6) projected
  line L79 (12.1, 27.6) -> (12.1, -27.6) projected
  line L80 (-9.1, -27.6) -> (-9.1, 27.6) projected
  line L81 (55, -35) -> (-55, -35) projected
  point P0 (0, 0)
  point P1 (46.5, 0)
  point P2 (40.5, 0)
  point P3 (34.5, 0)
  point P4 (28.5, 0)
  point P5 (22.5, 0)
  point P6 (16.5, 0)
  point P7 (10.5, 0)
  point P8 (4.5, 0)
  point P9 (-1.5, 0)
  point P10 (-7.5, 0)
  point P11 (46.5, -4)
  point P12 (42.1, 4)
  point P13 (48.1, 4)
  dimension "d200" = 4
  dimension "d201" = 35
extrude "Extrusion15" cut sketch "Sketch17" against normal through all
sketch "Sketch18" plane through (50.25, 21, -35) normal (-1, 0, 0) x (0, 0, 1)
  point P0 (35, -21)
properties part number "DisplayModuleHousing"
